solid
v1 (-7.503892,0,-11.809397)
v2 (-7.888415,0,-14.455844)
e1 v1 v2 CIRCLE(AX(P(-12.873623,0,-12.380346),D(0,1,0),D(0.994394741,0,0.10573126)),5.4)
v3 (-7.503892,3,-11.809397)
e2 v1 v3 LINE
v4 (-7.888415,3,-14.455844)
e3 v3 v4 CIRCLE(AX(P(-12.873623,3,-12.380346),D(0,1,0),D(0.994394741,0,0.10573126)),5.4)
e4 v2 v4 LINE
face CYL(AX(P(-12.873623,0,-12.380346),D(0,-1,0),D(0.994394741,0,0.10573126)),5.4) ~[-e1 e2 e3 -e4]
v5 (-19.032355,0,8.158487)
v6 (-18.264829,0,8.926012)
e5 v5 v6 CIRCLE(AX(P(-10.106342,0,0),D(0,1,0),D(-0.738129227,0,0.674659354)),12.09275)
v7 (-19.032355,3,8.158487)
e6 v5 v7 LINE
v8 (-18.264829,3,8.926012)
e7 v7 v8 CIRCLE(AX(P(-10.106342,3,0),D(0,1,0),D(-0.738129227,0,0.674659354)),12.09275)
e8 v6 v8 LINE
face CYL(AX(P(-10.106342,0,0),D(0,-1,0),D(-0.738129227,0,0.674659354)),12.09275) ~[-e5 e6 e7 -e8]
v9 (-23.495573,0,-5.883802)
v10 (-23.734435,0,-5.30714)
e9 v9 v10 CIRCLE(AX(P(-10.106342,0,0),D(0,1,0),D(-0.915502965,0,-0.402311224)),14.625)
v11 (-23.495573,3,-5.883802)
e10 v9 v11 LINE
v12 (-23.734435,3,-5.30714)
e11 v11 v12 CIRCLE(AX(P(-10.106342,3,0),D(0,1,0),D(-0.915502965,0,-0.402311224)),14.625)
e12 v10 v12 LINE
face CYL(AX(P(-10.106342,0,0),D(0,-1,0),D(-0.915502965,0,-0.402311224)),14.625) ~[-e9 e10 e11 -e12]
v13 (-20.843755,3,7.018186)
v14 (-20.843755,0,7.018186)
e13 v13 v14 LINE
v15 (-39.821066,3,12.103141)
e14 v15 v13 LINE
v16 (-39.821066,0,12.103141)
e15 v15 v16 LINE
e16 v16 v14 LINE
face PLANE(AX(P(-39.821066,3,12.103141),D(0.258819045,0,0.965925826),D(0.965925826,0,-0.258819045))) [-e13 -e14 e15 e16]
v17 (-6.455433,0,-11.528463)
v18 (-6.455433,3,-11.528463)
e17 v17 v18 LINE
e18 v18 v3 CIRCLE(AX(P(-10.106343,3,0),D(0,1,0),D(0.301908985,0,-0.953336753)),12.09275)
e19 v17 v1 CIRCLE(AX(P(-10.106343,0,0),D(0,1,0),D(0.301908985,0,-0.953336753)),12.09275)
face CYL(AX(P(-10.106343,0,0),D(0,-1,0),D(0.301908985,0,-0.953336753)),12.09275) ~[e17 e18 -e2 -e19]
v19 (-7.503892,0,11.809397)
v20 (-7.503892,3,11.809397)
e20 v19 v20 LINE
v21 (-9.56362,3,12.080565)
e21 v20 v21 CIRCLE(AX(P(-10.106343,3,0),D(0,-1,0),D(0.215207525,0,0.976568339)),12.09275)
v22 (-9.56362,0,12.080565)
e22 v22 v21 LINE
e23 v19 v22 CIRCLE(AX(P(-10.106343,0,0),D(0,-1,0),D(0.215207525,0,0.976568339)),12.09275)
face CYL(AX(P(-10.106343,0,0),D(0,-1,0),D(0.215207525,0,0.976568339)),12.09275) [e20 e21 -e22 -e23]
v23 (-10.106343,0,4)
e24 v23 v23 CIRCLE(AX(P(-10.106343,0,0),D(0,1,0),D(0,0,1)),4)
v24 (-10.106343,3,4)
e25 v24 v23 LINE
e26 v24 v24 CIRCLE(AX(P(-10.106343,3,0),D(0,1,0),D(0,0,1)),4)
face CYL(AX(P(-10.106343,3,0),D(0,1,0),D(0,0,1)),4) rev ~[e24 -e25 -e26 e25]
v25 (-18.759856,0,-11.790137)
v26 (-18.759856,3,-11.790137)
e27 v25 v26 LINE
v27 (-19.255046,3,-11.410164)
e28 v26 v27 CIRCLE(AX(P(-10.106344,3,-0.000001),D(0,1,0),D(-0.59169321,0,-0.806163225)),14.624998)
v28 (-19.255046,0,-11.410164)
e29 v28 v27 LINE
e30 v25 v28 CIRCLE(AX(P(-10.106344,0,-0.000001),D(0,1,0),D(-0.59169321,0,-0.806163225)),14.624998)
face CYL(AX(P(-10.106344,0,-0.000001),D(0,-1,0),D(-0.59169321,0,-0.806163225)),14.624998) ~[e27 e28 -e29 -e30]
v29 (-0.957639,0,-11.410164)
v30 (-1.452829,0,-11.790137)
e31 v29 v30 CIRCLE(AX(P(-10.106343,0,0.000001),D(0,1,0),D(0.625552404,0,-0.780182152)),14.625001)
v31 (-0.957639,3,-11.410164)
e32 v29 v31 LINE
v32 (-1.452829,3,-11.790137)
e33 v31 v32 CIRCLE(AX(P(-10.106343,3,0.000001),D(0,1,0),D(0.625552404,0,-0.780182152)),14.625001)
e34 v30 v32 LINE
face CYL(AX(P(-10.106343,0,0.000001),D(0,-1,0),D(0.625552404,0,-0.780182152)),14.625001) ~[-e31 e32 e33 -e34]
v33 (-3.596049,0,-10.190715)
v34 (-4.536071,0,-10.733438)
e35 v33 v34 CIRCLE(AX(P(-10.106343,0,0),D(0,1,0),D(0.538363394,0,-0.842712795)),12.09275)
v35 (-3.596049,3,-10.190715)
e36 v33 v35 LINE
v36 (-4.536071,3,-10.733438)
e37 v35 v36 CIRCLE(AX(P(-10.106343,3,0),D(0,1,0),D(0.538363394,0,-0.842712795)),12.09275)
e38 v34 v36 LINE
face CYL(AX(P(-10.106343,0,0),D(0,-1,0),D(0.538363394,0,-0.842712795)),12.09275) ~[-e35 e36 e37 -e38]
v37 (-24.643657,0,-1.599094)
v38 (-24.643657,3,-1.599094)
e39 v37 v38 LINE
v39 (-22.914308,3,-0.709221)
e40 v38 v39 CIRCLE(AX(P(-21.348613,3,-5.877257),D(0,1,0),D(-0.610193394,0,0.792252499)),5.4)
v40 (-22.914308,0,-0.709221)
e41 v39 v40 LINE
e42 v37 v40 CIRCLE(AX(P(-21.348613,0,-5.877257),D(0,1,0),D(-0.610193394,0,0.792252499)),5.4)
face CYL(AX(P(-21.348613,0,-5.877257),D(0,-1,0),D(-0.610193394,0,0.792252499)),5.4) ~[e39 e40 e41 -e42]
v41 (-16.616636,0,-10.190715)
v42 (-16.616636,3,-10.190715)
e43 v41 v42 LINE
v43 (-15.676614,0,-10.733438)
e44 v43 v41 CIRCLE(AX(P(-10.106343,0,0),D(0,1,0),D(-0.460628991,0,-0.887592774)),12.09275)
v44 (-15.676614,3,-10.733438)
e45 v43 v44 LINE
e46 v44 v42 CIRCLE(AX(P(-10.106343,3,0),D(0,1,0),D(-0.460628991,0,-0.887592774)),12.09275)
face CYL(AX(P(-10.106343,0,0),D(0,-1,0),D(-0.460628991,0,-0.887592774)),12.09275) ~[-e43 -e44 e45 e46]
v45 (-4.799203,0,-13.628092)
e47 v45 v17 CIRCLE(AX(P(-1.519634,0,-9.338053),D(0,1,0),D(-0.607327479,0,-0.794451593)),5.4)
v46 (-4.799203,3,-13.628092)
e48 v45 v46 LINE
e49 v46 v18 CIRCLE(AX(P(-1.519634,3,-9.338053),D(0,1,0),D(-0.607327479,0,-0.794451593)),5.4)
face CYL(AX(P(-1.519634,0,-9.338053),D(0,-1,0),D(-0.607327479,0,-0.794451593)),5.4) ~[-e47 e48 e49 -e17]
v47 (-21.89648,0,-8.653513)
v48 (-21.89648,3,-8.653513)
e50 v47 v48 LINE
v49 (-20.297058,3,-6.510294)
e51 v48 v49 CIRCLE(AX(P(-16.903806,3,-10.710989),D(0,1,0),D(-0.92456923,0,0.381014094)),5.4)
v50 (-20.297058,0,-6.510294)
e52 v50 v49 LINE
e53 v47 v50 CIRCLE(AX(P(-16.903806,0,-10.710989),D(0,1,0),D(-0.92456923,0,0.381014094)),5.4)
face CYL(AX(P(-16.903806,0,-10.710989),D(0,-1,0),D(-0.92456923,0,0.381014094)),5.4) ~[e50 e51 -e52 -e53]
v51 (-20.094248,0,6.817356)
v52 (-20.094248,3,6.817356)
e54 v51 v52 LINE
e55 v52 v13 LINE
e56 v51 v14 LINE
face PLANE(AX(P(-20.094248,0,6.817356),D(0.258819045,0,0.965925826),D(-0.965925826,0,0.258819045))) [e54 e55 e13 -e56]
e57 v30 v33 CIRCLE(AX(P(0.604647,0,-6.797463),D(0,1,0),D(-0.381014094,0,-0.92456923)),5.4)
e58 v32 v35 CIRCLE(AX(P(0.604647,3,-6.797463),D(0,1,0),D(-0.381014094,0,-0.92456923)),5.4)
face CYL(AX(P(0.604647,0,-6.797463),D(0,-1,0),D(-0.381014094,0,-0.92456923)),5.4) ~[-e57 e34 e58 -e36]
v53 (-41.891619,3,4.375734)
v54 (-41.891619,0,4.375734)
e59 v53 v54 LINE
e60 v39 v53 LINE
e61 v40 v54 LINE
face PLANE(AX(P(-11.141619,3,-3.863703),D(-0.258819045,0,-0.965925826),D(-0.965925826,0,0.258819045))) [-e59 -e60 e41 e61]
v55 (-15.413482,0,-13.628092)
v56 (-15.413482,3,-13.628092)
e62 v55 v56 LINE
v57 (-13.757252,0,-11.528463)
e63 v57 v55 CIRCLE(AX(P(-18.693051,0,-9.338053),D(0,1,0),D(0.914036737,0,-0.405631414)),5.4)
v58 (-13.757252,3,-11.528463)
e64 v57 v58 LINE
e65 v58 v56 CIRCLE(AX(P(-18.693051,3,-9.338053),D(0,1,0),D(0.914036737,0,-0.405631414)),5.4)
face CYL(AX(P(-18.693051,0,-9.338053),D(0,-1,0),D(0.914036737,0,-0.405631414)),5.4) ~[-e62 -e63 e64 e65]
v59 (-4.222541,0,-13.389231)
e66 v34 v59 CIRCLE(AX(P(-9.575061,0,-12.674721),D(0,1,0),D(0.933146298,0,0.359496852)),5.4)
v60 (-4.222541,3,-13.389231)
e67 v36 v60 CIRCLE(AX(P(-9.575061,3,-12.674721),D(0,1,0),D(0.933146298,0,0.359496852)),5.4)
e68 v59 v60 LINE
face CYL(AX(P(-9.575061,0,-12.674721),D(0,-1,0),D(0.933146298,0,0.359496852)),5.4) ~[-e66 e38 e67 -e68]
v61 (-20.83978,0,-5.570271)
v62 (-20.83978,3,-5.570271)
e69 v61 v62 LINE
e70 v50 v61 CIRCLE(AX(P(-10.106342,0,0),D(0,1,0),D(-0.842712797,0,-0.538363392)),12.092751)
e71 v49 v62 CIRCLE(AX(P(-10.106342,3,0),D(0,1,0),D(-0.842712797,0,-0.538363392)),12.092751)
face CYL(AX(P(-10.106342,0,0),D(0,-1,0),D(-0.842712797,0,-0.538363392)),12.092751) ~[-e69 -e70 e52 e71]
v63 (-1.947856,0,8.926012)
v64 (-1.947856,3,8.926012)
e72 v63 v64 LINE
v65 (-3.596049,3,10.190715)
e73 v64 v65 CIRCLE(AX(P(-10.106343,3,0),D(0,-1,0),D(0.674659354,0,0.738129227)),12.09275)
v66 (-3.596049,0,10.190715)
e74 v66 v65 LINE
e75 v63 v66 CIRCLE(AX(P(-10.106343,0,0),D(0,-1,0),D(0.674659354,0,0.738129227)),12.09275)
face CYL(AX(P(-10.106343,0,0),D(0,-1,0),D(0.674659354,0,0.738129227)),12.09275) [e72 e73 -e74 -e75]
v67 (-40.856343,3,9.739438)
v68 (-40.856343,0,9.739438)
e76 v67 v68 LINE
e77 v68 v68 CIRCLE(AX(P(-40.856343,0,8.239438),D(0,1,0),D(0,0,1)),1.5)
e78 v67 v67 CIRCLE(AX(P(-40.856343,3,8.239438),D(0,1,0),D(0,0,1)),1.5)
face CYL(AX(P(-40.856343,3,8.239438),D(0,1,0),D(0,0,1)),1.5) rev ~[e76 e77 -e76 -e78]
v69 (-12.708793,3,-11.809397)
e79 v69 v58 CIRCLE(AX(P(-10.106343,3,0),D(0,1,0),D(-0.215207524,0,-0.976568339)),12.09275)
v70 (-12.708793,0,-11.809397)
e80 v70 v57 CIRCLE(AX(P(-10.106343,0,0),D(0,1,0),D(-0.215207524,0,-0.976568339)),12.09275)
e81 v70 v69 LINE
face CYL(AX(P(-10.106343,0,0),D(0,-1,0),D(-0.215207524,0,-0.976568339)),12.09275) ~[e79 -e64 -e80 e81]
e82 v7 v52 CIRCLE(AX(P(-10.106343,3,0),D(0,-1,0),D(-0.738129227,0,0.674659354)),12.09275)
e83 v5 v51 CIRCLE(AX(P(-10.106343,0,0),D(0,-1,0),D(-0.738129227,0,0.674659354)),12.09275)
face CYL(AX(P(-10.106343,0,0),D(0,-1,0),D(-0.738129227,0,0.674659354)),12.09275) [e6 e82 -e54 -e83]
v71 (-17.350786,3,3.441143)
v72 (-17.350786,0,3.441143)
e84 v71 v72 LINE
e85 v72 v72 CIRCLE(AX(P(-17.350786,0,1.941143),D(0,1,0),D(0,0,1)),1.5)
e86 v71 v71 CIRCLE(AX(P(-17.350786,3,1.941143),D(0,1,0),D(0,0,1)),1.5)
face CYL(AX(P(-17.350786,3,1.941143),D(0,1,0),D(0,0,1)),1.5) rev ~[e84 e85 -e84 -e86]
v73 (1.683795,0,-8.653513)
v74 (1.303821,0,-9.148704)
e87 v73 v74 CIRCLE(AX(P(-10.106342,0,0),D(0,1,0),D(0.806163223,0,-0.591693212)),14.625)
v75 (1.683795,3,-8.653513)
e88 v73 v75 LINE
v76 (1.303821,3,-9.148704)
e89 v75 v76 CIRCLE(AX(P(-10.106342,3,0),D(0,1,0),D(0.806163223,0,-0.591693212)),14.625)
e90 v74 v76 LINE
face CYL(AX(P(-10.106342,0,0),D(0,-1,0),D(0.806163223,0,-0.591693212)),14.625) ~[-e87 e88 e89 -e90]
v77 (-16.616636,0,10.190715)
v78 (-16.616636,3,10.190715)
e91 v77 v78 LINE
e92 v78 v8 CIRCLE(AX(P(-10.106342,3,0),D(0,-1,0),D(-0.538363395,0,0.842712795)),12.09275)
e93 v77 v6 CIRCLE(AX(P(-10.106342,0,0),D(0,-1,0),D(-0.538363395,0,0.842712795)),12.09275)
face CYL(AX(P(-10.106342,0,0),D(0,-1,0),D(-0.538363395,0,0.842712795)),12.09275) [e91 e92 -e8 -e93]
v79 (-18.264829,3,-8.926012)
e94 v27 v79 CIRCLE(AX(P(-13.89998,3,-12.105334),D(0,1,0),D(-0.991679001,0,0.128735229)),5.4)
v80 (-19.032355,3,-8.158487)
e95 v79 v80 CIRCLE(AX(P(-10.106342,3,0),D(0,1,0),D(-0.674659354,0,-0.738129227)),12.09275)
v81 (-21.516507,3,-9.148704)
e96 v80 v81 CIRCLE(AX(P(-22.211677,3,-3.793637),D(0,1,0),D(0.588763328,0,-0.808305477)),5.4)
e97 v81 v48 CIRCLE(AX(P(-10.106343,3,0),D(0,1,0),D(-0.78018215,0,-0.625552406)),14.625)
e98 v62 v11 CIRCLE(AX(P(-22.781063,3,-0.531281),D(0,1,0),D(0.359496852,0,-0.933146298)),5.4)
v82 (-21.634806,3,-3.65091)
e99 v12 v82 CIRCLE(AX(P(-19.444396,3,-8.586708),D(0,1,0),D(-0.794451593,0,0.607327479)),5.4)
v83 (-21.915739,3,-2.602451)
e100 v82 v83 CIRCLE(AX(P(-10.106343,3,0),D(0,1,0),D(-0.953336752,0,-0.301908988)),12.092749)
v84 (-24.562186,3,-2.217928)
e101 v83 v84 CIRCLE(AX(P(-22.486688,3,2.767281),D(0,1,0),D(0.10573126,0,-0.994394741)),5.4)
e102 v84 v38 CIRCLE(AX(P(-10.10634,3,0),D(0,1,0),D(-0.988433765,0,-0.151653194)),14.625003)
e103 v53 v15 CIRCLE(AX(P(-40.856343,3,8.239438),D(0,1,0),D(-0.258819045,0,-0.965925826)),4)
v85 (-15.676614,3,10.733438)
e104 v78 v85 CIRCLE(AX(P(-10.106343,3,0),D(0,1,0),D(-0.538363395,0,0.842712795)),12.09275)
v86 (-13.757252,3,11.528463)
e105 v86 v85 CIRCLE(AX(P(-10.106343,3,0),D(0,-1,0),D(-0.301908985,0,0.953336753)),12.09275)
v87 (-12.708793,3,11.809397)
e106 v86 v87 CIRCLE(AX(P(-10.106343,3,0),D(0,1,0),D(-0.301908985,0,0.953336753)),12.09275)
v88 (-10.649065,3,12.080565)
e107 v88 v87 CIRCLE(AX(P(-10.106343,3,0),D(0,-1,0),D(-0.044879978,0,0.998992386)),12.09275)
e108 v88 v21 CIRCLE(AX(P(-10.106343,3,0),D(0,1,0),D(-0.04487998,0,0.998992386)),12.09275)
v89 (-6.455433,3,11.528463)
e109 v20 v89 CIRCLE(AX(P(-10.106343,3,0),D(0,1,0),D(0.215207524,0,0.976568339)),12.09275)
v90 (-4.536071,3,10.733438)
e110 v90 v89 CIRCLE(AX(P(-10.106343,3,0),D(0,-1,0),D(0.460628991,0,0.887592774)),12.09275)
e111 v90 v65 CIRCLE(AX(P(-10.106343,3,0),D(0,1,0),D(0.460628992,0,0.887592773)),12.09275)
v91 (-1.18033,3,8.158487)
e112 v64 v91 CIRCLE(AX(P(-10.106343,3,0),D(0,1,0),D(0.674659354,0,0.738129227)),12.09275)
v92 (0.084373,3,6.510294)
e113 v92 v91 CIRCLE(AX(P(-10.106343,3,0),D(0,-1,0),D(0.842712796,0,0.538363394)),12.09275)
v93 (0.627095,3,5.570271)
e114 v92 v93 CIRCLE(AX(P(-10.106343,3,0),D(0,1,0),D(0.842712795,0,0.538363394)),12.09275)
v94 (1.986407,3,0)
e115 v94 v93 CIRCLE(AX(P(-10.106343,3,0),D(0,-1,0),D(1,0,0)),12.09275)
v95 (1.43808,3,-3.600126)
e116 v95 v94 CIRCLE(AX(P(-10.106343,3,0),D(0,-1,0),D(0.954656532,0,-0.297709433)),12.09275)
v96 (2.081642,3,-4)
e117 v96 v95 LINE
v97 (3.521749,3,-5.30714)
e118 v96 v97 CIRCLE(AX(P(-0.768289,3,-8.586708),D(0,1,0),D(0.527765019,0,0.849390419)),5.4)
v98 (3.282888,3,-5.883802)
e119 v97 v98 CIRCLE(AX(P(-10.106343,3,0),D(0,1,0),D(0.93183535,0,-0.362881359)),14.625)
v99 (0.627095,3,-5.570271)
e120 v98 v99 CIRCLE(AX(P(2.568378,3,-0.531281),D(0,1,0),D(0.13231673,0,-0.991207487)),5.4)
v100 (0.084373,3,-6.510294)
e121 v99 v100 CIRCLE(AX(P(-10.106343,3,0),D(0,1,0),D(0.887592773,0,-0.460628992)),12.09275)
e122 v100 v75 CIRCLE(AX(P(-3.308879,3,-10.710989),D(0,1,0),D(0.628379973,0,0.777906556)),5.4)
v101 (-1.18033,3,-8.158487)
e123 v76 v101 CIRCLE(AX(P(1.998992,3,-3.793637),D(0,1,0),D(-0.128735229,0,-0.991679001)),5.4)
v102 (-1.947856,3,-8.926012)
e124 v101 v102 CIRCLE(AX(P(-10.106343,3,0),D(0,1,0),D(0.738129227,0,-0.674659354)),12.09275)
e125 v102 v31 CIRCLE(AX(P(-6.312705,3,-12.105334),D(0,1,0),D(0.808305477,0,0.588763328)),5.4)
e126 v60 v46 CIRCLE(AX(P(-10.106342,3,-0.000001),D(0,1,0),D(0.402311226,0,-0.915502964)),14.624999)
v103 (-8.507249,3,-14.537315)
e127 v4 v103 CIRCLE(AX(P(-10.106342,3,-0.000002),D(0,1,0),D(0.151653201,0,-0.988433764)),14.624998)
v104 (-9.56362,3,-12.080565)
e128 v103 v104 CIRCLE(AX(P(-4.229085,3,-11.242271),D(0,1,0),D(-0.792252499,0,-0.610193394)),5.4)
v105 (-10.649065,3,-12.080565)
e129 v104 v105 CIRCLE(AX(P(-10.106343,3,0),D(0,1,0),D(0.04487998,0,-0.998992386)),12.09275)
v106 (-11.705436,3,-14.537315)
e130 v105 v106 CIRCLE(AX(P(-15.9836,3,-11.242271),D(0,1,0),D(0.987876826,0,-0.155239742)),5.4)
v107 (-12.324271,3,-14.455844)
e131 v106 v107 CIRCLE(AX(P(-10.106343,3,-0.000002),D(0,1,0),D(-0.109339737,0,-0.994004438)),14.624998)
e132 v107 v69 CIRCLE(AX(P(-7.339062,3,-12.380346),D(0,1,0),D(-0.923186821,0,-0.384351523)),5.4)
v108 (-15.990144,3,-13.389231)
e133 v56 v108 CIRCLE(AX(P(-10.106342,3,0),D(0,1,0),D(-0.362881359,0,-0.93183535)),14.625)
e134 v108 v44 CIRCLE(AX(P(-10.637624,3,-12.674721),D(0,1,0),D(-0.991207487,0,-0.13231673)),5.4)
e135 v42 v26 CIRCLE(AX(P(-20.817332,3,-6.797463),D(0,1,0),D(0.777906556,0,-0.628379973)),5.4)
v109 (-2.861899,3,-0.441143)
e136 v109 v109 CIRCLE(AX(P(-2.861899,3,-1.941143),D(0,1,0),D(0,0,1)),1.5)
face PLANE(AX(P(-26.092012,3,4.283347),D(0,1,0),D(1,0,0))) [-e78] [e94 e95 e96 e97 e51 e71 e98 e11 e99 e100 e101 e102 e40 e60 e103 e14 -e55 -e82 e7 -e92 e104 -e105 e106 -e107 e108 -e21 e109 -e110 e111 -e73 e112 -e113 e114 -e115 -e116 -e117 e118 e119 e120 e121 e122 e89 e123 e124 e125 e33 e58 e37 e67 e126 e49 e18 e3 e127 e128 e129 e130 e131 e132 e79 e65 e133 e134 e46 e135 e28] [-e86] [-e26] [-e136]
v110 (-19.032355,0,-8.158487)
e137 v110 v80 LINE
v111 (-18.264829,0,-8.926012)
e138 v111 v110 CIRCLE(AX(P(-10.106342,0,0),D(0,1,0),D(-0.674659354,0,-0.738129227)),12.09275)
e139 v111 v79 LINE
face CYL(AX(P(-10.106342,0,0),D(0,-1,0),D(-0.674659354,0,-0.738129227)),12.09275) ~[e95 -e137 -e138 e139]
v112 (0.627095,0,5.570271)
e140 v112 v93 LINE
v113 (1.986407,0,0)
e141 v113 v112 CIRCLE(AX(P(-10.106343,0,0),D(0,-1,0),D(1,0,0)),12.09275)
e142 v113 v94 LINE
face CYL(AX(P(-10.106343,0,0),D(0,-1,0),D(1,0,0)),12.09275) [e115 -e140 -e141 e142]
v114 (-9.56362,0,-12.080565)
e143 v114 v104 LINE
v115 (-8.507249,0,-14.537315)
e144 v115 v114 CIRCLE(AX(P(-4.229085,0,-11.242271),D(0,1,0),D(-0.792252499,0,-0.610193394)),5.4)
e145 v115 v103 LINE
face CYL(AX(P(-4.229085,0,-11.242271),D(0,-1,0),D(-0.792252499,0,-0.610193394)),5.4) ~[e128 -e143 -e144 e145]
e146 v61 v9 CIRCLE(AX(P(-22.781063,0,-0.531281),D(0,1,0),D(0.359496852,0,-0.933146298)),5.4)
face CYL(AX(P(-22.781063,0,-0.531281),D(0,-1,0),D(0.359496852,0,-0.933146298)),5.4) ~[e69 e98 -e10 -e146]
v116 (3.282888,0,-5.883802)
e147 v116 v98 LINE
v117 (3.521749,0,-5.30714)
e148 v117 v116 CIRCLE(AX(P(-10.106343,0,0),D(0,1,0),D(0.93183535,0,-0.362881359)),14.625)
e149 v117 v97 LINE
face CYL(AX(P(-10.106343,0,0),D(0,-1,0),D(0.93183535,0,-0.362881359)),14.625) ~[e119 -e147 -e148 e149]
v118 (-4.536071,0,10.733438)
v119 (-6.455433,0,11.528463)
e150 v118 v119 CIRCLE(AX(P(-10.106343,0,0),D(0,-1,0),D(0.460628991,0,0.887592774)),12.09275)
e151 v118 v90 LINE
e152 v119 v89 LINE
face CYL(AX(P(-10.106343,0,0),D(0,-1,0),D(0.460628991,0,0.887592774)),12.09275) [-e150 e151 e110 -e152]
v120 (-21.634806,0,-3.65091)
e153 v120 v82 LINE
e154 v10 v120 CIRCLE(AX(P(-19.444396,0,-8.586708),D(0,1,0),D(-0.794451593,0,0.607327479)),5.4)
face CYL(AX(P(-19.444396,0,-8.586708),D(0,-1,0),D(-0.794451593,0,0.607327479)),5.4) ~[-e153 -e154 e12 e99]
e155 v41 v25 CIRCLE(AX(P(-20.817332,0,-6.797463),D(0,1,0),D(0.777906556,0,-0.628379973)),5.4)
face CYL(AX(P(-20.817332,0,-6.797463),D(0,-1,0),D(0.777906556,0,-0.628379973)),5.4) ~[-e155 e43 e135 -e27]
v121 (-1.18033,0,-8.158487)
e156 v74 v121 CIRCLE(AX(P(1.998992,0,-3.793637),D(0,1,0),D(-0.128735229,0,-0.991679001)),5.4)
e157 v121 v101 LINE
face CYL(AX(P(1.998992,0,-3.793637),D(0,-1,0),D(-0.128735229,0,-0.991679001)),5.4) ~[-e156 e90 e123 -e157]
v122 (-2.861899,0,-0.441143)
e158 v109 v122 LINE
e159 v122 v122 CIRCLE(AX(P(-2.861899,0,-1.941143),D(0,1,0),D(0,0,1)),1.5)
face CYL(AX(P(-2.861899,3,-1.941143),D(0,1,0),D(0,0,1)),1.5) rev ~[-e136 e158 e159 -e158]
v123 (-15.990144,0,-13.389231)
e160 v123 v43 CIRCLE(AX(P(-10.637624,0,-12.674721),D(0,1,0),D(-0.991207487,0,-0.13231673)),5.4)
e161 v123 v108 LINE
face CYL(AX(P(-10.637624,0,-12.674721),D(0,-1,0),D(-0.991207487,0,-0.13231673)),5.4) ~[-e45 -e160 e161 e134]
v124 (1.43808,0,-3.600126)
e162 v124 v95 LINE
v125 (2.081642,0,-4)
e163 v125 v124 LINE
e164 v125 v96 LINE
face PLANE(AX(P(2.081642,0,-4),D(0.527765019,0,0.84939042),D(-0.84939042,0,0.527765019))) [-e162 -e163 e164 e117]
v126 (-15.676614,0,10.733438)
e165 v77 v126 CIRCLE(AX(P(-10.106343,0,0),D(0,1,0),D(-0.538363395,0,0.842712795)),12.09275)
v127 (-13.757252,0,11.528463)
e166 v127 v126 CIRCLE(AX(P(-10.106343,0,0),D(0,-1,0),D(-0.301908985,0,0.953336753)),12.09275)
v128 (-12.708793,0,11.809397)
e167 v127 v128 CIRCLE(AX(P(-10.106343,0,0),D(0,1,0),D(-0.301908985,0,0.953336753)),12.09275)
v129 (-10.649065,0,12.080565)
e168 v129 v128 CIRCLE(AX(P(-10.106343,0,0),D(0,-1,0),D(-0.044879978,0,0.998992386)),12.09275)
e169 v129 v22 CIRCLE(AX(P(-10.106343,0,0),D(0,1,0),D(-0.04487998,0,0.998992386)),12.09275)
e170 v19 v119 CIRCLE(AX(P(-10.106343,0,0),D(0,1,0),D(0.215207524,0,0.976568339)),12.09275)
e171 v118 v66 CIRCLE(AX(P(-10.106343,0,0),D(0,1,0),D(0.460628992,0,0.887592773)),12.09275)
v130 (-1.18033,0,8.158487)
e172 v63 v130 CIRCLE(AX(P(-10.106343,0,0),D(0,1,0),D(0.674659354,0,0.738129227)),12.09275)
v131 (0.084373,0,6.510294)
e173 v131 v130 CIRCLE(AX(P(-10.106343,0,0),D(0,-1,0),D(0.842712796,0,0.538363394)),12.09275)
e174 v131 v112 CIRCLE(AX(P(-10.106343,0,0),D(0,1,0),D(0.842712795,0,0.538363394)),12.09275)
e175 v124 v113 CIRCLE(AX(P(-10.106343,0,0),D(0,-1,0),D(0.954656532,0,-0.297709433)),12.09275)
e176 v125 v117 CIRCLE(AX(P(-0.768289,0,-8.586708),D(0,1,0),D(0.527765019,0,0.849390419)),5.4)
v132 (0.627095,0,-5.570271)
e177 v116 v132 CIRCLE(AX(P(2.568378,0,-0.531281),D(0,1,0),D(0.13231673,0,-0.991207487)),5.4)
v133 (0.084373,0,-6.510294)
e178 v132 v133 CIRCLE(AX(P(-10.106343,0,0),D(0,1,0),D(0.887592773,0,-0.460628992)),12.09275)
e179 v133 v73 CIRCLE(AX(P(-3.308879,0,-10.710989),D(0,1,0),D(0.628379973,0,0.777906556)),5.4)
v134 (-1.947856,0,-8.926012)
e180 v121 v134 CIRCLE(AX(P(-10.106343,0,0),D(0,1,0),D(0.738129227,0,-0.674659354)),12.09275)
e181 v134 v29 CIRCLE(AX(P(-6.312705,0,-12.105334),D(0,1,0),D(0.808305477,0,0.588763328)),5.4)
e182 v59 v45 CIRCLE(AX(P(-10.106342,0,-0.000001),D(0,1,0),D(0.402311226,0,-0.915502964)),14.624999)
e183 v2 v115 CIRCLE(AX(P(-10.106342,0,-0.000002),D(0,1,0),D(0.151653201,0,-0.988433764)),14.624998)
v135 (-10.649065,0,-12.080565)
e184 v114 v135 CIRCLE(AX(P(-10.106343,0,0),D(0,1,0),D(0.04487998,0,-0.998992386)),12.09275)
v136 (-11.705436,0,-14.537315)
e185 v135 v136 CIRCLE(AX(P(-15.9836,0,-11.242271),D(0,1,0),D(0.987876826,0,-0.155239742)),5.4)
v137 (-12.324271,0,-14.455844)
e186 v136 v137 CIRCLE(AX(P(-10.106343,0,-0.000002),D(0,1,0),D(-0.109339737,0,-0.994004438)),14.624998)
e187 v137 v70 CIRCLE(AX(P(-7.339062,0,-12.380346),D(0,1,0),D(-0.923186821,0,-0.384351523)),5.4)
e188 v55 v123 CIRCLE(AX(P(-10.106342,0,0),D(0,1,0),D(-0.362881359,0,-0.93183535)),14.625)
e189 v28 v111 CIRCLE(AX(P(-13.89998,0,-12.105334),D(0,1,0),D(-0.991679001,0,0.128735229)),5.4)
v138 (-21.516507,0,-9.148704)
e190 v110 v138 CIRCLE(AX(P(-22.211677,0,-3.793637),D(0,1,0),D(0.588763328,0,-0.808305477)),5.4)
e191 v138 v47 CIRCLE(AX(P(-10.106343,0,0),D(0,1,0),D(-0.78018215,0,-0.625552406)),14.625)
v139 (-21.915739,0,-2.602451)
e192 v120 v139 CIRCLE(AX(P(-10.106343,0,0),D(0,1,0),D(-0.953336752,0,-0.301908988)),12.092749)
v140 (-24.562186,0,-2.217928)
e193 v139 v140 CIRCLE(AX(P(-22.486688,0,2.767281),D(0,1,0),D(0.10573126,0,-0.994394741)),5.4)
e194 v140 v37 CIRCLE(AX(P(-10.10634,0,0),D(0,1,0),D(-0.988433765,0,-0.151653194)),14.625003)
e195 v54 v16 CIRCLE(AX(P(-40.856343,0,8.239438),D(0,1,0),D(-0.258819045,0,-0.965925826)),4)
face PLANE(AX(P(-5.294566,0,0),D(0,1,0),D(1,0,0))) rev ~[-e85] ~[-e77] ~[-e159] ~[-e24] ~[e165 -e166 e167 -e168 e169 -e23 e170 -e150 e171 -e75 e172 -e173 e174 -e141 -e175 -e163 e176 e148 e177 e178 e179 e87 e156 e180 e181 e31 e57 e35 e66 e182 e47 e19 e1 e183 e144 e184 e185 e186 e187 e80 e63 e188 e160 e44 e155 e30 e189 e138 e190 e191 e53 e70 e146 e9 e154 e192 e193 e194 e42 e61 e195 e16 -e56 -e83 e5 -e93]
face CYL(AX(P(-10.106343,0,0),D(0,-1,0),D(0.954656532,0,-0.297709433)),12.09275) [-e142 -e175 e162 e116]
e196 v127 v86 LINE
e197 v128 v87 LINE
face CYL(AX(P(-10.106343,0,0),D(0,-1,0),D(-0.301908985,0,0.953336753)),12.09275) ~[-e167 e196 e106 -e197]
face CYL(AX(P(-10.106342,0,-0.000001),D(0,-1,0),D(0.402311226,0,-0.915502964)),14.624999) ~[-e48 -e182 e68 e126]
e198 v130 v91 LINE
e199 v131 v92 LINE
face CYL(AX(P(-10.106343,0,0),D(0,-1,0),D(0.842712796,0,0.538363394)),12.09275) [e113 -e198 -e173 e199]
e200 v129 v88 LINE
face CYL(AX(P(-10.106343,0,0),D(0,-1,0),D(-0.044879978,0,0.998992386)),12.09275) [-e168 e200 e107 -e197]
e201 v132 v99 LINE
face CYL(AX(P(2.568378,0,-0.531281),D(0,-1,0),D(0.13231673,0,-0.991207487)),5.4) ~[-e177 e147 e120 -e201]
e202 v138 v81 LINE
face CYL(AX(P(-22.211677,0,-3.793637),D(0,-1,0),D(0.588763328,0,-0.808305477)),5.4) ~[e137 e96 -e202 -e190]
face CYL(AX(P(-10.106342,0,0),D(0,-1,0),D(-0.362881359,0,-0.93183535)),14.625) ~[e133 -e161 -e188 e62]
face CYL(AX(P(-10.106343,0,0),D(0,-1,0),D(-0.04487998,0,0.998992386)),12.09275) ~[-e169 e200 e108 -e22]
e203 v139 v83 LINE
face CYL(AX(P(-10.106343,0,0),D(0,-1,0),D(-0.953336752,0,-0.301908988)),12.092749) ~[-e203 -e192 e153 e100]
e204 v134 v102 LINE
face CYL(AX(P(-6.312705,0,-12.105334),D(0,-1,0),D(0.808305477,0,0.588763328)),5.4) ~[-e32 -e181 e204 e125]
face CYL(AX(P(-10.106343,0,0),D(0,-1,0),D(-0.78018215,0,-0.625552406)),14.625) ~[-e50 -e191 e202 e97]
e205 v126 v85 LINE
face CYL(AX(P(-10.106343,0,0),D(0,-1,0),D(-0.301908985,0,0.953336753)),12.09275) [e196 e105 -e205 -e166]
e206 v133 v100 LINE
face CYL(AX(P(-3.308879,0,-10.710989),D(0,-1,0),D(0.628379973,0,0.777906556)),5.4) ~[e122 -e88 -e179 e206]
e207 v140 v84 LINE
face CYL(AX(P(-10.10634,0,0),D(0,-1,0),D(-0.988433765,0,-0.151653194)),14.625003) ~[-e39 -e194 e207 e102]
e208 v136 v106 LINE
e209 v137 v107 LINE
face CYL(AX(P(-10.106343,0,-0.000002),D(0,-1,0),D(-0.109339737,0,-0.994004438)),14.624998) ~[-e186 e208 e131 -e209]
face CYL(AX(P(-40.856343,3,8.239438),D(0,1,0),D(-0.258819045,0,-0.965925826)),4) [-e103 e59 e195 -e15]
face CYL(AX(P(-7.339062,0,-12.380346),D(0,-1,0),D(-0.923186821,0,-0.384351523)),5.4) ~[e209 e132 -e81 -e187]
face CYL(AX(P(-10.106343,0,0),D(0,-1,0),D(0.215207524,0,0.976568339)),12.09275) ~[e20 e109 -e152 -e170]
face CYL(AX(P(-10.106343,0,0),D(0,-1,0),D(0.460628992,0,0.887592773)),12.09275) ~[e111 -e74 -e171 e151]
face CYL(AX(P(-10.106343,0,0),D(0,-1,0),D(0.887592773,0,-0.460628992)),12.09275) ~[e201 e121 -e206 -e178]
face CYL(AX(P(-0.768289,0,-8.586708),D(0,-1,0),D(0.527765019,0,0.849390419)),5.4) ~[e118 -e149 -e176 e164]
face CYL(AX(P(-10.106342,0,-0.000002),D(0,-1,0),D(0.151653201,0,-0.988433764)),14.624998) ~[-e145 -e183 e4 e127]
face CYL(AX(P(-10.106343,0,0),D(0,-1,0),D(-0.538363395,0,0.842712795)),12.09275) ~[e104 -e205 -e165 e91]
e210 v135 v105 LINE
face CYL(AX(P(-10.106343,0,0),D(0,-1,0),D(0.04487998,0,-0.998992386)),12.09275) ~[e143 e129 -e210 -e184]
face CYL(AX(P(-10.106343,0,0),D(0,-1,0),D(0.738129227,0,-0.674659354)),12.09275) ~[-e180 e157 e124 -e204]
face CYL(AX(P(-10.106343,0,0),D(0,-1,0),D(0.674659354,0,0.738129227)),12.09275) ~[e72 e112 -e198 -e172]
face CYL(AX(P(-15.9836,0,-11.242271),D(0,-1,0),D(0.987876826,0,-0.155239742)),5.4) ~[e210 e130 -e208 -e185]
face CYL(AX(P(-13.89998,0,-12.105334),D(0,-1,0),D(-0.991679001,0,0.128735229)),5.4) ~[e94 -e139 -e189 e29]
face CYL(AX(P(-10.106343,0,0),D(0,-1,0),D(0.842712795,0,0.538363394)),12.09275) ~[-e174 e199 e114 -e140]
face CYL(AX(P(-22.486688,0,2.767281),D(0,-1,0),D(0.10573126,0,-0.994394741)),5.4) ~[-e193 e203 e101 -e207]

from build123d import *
from build123d.topology import SkipClean

# Parameters (mm, degrees)
SKETCH1_R           = 1.5
BOSS_EXTRUDE1_DEPTH = 3
SKETCH3_R           = 1.5
BOSS_EXTRUDE2_DEPTH = 3
CUT_EXTRUDE1_START  = -3
CUT_EXTRUDE1_DEPTH  = 3
CUT_EXTRUDE2_REACH  = 49.249
SKETCH5_R           = 1.5
SKETCH5_R_2         = 4


with BuildPart() as part:
    # Sketch1 → Boss-Extrude1 (new body)
    with BuildSketch(Plane(origin=(0, 0, 0), x_dir=(1, 0, 0), z_dir=(0, 1, 0))):
        with BuildLine():
            Line((20.643657446, 4), (2.081641936, 4))
            ThreePointArc((2.081641936, 4), (2.861028333, 4.588201733), (3.521749436, 5.30713988))
            ThreePointArc((3.521749436, 5.30713988), (3.405395609, 5.596745198), (3.282888305, 5.883801663))
            ThreePointArc((3.282888305, 5.883801663), (1.93527598, 5.894040025), (0.627094961, 5.57027124))
            ThreePointArc((0.627094961, 5.57027124), (0.366286148, 6.046375), (0.084372603, 6.510293938))
            ThreePointArc((0.084372603, 6.510293938), (1.018855105, 7.48132754), (1.683794586, 8.65351323))
            ThreePointArc((1.683794586, 8.65351323), (1.496450048, 8.903135899), (1.303821399, 9.148703928))
            ThreePointArc((1.303821399, 9.148703928), (-0.000522033, 8.809805691), (-1.180330337, 8.158486898))
            ThreePointArc((-1.180330337, 8.158486898), (-1.555477026, 8.550865528), (-1.947855656, 8.926012217))
            ThreePointArc((-1.947855656, 8.926012217), (-1.296536862, 10.105820521), (-0.957638625, 11.410163953))
            ThreePointArc((-0.957638625, 11.410163953), (-1.203206655, 11.602792602), (-1.452829324, 11.79013714))
            ThreePointArc((-1.452829324, 11.79013714), (-2.625015014, 11.125197659), (-3.596048616, 10.190715157))
            ThreePointArc((-3.596048616, 10.190715157), (-4.059967554, 10.472628702), (-4.536071314, 10.733437515))
            ThreePointArc((-4.536071314, 10.733437515), (-4.212302529, 12.041618533), (-4.222540891, 13.389230859))
            ThreePointArc((-4.222540891, 13.389230859), (-4.509597355, 13.511738163), (-4.799202674, 13.62809199))
            ThreePointArc((-4.799202674, 13.62809199), (-5.759348103, 12.682425791), (-6.455432668, 11.528463019))
            ThreePointArc((-6.455432668, 11.528463019), (-6.976508546, 11.680699536), (-7.503891752, 11.809396783))
            ThreePointArc((-7.503891752, 11.809396783), (-7.529737283, 13.156800143), (-7.888414517, 14.455843809))
            ThreePointArc((-7.888414517, 14.455843809), (-8.197396993, 14.499881098), (-8.507248835, 14.537314892))
            ThreePointArc((-8.507248835, 14.537314892), (-9.18992168, 13.375367565), (-9.563620196, 12.080565177))
            ThreePointArc((-9.563620196, 12.080565177), (-10.106342554, 12.09275), (-10.649064912, 12.080565177))
            ThreePointArc((-10.649064912, 12.080565177), (-11.022763428, 13.375367565), (-11.705436272, 14.537314892))
            ThreePointArc((-11.705436272, 14.537314892), (-12.015288115, 14.499881098), (-12.324270591, 14.455843809))
            ThreePointArc((-12.324270591, 14.455843809), (-12.682947825, 13.156800143), (-12.708793355, 11.809396783))
            ThreePointArc((-12.708793355, 11.809396783), (-13.236176561, 11.680699536), (-13.757252439, 11.528463019))
            ThreePointArc((-13.757252439, 11.528463019), (-14.453337005, 12.682425791), (-15.413482434, 13.62809199))
            ThreePointArc((-15.413482434, 13.62809199), (-15.703087752, 13.511738163), (-15.990144217, 13.389230859))
            ThreePointArc((-15.990144217, 13.389230859), (-16.000382579, 12.041618533), (-15.676613793, 10.733437515))
            ThreePointArc((-15.676613793, 10.733437515), (-16.152717554, 10.472628702), (-16.616636492, 10.190715157))
            ThreePointArc((-16.616636492, 10.190715157), (-17.587670094, 11.125197659), (-18.759855783, 11.79013714))
            ThreePointArc((-18.759855783, 11.79013714), (-19.009478453, 11.602792602), (-19.255046482, 11.410163953))
            ThreePointArc((-19.255046482, 11.410163953), (-18.916148245, 10.105820521), (-18.264829452, 8.926012217))
            ThreePointArc((-18.264829452, 8.926012217), (-18.657208082, 8.550865528), (-19.032354771, 8.158486898))
            ThreePointArc((-19.032354771, 8.158486898), (-20.212163074, 8.809805691), (-21.516506507, 9.148703928))
            ThreePointArc((-21.516506507, 9.148703928), (-21.709135156, 8.903135899), (-21.896479694, 8.65351323))
            ThreePointArc((-21.896479694, 8.65351323), (-21.231540213, 7.48132754), (-20.297057711, 6.510293938))
            ThreePointArc((-20.297057711, 6.510293938), (-20.578971255, 6.046375), (-20.839780068, 5.57027124))
            ThreePointArc((-20.839780068, 5.57027124), (-22.147961087, 5.894040025), (-23.495573413, 5.883801663))
            ThreePointArc((-23.495573413, 5.883801663), (-23.618080717, 5.596745198), (-23.734434544, 5.30713988))
            ThreePointArc((-23.734434544, 5.30713988), (-22.788768345, 4.346994451), (-21.634805572, 3.650909885))
            ThreePointArc((-21.634805572, 3.650909885), (-21.78704209, 3.129834008), (-21.915739337, 2.602450802))
            ThreePointArc((-21.915739337, 2.602450802), (-23.263142697, 2.576605271), (-24.562186363, 2.217928037))
            ThreePointArc((-24.562186363, 2.217928037), (-24.606223651, 1.908945561), (-24.643657446, 1.599093719))
            ThreePointArc((-24.643657446, 1.599093719), (-23.481710119, 0.916420874), (-22.186907731, 0.542722358))
            ThreePointArc((-22.186907731, 0.542722358), (-22.199092554, 0), (-22.186907731, -0.542722358))
            ThreePointArc((-22.186907731, -0.542722358), (-23.481710119, -0.916420874), (-24.643657446, -1.599093719))
            ThreePointArc((-24.643657446, -1.599093719), (-24.606223651, -1.908945561), (-24.562186363, -2.217928037))
            ThreePointArc((-24.562186363, -2.217928037), (-23.263142697, -2.576605271), (-21.915739337, -2.602450802))
            ThreePointArc((-21.915739337, -2.602450802), (-21.78704209, -3.129834008), (-21.634805572, -3.650909885))
            ThreePointArc((-21.634805572, -3.650909885), (-22.788768345, -4.346994451), (-23.734434544, -5.30713988))
            ThreePointArc((-23.734434544, -5.30713988), (-23.618080717, -5.596745198), (-23.495573413, -5.883801663))
            ThreePointArc((-23.495573413, -5.883801663), (-22.147961087, -5.894040025), (-20.839780068, -5.57027124))
            ThreePointArc((-20.839780068, -5.57027124), (-20.578971255, -6.046375), (-20.297057711, -6.510293938))
            ThreePointArc((-20.297057711, -6.510293938), (-21.231540213, -7.48132754), (-21.896479694, -8.65351323))
            ThreePointArc((-21.896479694, -8.65351323), (-21.709135156, -8.903135899), (-21.516506507, -9.148703928))
            ThreePointArc((-21.516506507, -9.148703928), (-20.212163074, -8.809805691), (-19.032354771, -8.158486898))
            ThreePointArc((-19.032354771, -8.158486898), (-18.657208082, -8.550865528), (-18.264829452, -8.926012217))
            ThreePointArc((-18.264829452, -8.926012217), (-18.916148245, -10.105820521), (-19.255046482, -11.410163953))
            ThreePointArc((-19.255046482, -11.410163953), (-19.009478453, -11.602792602), (-18.759855783, -11.79013714))
            ThreePointArc((-18.759855783, -11.79013714), (-17.587670094, -11.125197659), (-16.616636492, -10.190715157))
            ThreePointArc((-16.616636492, -10.190715157), (-16.152717554, -10.472628702), (-15.676613793, -10.733437515))
            ThreePointArc((-15.676613793, -10.733437515), (-16.000382579, -12.041618533), (-15.990144217, -13.389230859))
            ThreePointArc((-15.990144217, -13.389230859), (-15.703087752, -13.511738163), (-15.413482434, -13.62809199))
            ThreePointArc((-15.413482434, -13.62809199), (-14.453337005, -12.682425791), (-13.757252439, -11.528463019))
            ThreePointArc((-13.757252439, -11.528463019), (-13.236176561, -11.680699536), (-12.708793355, -11.809396783))
            ThreePointArc((-12.708793355, -11.809396783), (-12.682947825, -13.156800143), (-12.324270591, -14.455843809))
            ThreePointArc((-12.324270591, -14.455843809), (-12.015288115, -14.499881098), (-11.705436272, -14.537314892))
            ThreePointArc((-11.705436272, -14.537314892), (-11.022763428, -13.375367565), (-10.649064912, -12.080565177))
            ThreePointArc((-10.649064912, -12.080565177), (-10.106342554, -12.09275), (-9.563620196, -12.080565177))
            ThreePointArc((-9.563620196, -12.080565177), (-9.18992168, -13.375367565), (-8.507248835, -14.537314892))
            ThreePointArc((-8.507248835, -14.537314892), (-8.197396993, -14.499881098), (-7.888414517, -14.455843809))
            ThreePointArc((-7.888414517, -14.455843809), (-7.529737283, -13.156800143), (-7.503891752, -11.809396783))
            ThreePointArc((-7.503891752, -11.809396783), (-6.976508546, -11.680699536), (-6.455432668, -11.528463019))
            ThreePointArc((-6.455432668, -11.528463019), (-5.759348103, -12.682425791), (-4.799202674, -13.62809199))
            ThreePointArc((-4.799202674, -13.62809199), (-4.509597355, -13.511738163), (-4.222540891, -13.389230859))
            ThreePointArc((-4.222540891, -13.389230859), (-4.212302529, -12.041618533), (-4.536071314, -10.733437515))
            ThreePointArc((-4.536071314, -10.733437515), (-4.059967554, -10.472628702), (-3.596048616, -10.190715157))
            ThreePointArc((-3.596048616, -10.190715157), (-2.625015014, -11.125197659), (-1.452829324, -11.79013714))
            ThreePointArc((-1.452829324, -11.79013714), (-1.203206655, -11.602792602), (-0.957638625, -11.410163953))
            ThreePointArc((-0.957638625, -11.410163953), (-1.296536862, -10.105820521), (-1.947855656, -8.926012217))
            ThreePointArc((-1.947855656, -8.926012217), (-1.555477026, -8.550865528), (-1.180330337, -8.158486898))
            ThreePointArc((-1.180330337, -8.158486898), (-0.000522033, -8.809805691), (1.303821399, -9.148703928))
            ThreePointArc((1.303821399, -9.148703928), (1.496450048, -8.903135899), (1.683794586, -8.65351323))
            ThreePointArc((1.683794586, -8.65351323), (1.018855105, -7.48132754), (0.084372603, -6.510293938))
            ThreePointArc((0.084372603, -6.510293938), (0.366286148, -6.046375), (0.627094961, -5.57027124))
            ThreePointArc((0.627094961, -5.57027124), (1.93527598, -5.894040025), (3.282888305, -5.883801663))
            ThreePointArc((3.282888305, -5.883801663), (3.405395609, -5.596745198), (3.521749436, -5.30713988))
            ThreePointArc((3.521749436, -5.30713988), (2.861028333, -4.588201733), (2.081641936, -4))
            Line((2.081641936, -4), (20.643657446, -4))
            ThreePointArc((20.643657446, -4), (24.643657446, 0), (20.643657446, 4))
        make_face()
        with Locations(Location((-10.106342554, 0, 0), (0, 0, 270))):
            Circle(SKETCH1_R, mode=Mode.SUBTRACT)
        with Locations(Location((20.643657446, 0, 0), (0, 0, 270))):
            Circle(SKETCH1_R, mode=Mode.SUBTRACT)
    extrude(amount=BOSS_EXTRUDE1_DEPTH)

    # Sketch3 → Boss-Extrude2 (add)
    with BuildSketch(Plane(origin=(0, 3, 0), x_dir=(1, 0, 0), z_dir=(0, 1, 0))):
        with BuildLine():
            ThreePointArc((-9.071066373, -3.863703305), (-13.970045859, -1.03527618), (-11.141618734, 3.863703305))
            Line((-11.141618734, 3.863703305), (-41.891618734, -4.375734362))
            ThreePointArc((-41.891618734, -4.375734362), (-44.720045859, -9.274713848), (-39.821066373, -12.103140972))
            Line((-39.821066373, -12.103140972), (-9.071066373, -3.863703305))
        make_face()
        with Locations(Location((-40.856342554, -8.239437667, 0), (0, 0, 270))):
            Circle(SKETCH3_R, mode=Mode.SUBTRACT)
    extrude(amount=-BOSS_EXTRUDE2_DEPTH)

    # Sketch4 → Cut-Extrude1 (cut)
    with SkipClean():  # the faces are left unmerged after this step: merging them gives an invalid solid
        with BuildSketch(Plane(origin=(0, 3, 0), x_dir=(1, 0, 0), z_dir=(0, 1, 0)).offset(CUT_EXTRUDE1_START)):
            with BuildLine():
                ThreePointArc((-21.516506507, -9.148703928), (-20.212163074, -8.809805691), (-19.032354771, -8.158486898))
                ThreePointArc((-19.032354771, -8.158486898), (-19.58704562, -7.506721784), (-20.094248238, -6.817355984))
                Line((-20.094248238, -6.817355984), (-20.843755363, -7.018185813))
                ThreePointArc((-20.843755363, -7.018185813), (-21.444347002, -7.788065101), (-21.896479694, -8.65351323))
                ThreePointArc((-21.896479694, -8.65351323), (-21.709135156, -8.903135899), (-21.516506507, -9.148703928))
            make_face()
            with BuildLine():
                ThreePointArc((-18.759855783, -11.79013714), (-17.587670094, -11.125197659), (-16.616636492, -10.190715157))
                ThreePointArc((-16.616636492, -10.190715157), (-17.467942324, -9.593823606), (-18.264829452, -8.926012217))
                ThreePointArc((-18.264829452, -8.926012217), (-18.916148245, -10.105820521), (-19.255046482, -11.410163953))
                ThreePointArc((-19.255046482, -11.410163953), (-19.009478453, -11.602792602), (-18.759855783, -11.79013714))
            make_face()
            with BuildLine():
                ThreePointArc((-15.413482434, -13.62809199), (-14.453337005, -12.682425791), (-13.757252439, -11.528463019))
                ThreePointArc((-13.757252439, -11.528463019), (-14.734037631, -11.172244217), (-15.676613793, -10.733437515))
                ThreePointArc((-15.676613793, -10.733437515), (-16.000382579, -12.041618533), (-15.990144217, -13.389230859))
                ThreePointArc((-15.990144217, -13.389230859), (-15.703087752, -13.511738163), (-15.413482434, -13.62809199))
            make_face()
            with BuildLine():
                ThreePointArc((-11.705436272, -14.537314892), (-11.022763428, -13.375367565), (-10.649064912, -12.080565177))
                ThreePointArc((-10.649064912, -12.080565177), (-11.684763165, -11.989294847), (-12.708793355, -11.809396783))
                ThreePointArc((-12.708793355, -11.809396783), (-12.682947825, -13.156800143), (-12.324270591, -14.455843809))
                ThreePointArc((-12.324270591, -14.455843809), (-12.015288115, -14.499881098), (-11.705436272, -14.537314892))
            make_face()
            with BuildLine():
                ThreePointArc((-7.888414517, -14.455843809), (-7.529737283, -13.156800143), (-7.503891752, -11.809396783))
                ThreePointArc((-7.503891752, -11.809396783), (-8.527921943, -11.989294847), (-9.563620196, -12.080565177))
                ThreePointArc((-9.563620196, -12.080565177), (-9.18992168, -13.375367565), (-8.507248835, -14.537314892))
                ThreePointArc((-8.507248835, -14.537314892), (-8.197396993, -14.499881098), (-7.888414517, -14.455843809))
            make_face()
            with BuildLine():
                ThreePointArc((-4.222540891, -13.389230859), (-4.212302529, -12.041618533), (-4.536071314, -10.733437515))
                ThreePointArc((-4.536071314, -10.733437515), (-5.478647477, -11.172244217), (-6.455432668, -11.528463019))
                ThreePointArc((-6.455432668, -11.528463019), (-5.759348103, -12.682425791), (-4.799202674, -13.62809199))
                ThreePointArc((-4.799202674, -13.62809199), (-4.509597355, -13.511738163), (-4.222540891, -13.389230859))
            make_face()
            with BuildLine():
                ThreePointArc((-0.957638625, -11.410163953), (-1.296536862, -10.105820521), (-1.947855656, -8.926012217))
                ThreePointArc((-1.947855656, -8.926012217), (-2.744742783, -9.593823606), (-3.596048616, -10.190715157))
                ThreePointArc((-3.596048616, -10.190715157), (-2.625015014, -11.125197659), (-1.452829324, -11.79013714))
                ThreePointArc((-1.452829324, -11.79013714), (-1.203206655, -11.602792602), (-0.957638625, -11.410163953))
            make_face()
            with BuildLine():
                ThreePointArc((1.683794586, -8.65351323), (1.018855105, -7.48132754), (0.084372603, -6.510293938))
                ThreePointArc((0.084372603, -6.510293938), (-0.512518948, -7.361599771), (-1.180330337, -8.158486898))
                ThreePointArc((-1.180330337, -8.158486898), (-0.000522033, -8.809805691), (1.303821399, -9.148703928))
                ThreePointArc((1.303821399, -9.148703928), (1.496450048, -8.903135899), (1.683794586, -8.65351323))
            make_face()
            with BuildLine():
                ThreePointArc((20.643657446, -4), (24.643657446, 0), (20.643657446, 4))
                Line((20.643657446, 4), (2.081641936, 4))
                Line((2.081641936, 4), (1.43808022, 3.600125745))
                ThreePointArc((1.43808022, 3.600125745), (1.848539735, 1.820821801), (1.986407446, 0))
                ThreePointArc((1.986407446, 0), (1.641665343, -2.866864669), (0.627094961, -5.57027124))
                ThreePointArc((0.627094961, -5.57027124), (1.93527598, -5.894040025), (3.282888305, -5.883801663))
                ThreePointArc((3.282888305, -5.883801663), (3.405395609, -5.596745198), (3.521749436, -5.30713988))
                ThreePointArc((3.521749436, -5.30713988), (2.861028333, -4.588201733), (2.081641936, -4))
                Line((2.081641936, -4), (20.643657446, -4))
            make_face()
        extrude(amount=CUT_EXTRUDE1_DEPTH, mode=Mode.SUBTRACT)

    # Sketch5 → Cut-Extrude2 (cut, up to next)
    with BuildSketch(Plane(origin=(0, 3, 0), x_dir=(1, 0, 0), z_dir=(0, 1, 0)), mode=Mode.PRIVATE) as cut_extrude2_sk1:
        with Locations(Location((-2.861898857, 1.941142838, 0), (0, 0, 270))):
            Circle(SKETCH5_R)
    cut_extrude2_tool1 = extrude(cut_extrude2_sk1.sketch, amount=-CUT_EXTRUDE2_REACH, mode=Mode.PRIVATE) & part.part
    # Sketch5 → Cut-Extrude2 (cut, up to next)
    with BuildSketch(Plane(origin=(0, 3, 0), x_dir=(1, 0, 0), z_dir=(0, 1, 0)), mode=Mode.PRIVATE) as cut_extrude2_sk2:
        with Locations(Location((-17.350786251, -1.941142838, 0), (0, 0, 270))):
            Circle(SKETCH5_R)
    cut_extrude2_tool2 = extrude(cut_extrude2_sk2.sketch, amount=-CUT_EXTRUDE2_REACH, mode=Mode.PRIVATE) & part.part
    # Sketch5 → Cut-Extrude2 (cut, up to next)
    with BuildSketch(Plane(origin=(0, 3, 0), x_dir=(1, 0, 0), z_dir=(0, 1, 0)), mode=Mode.PRIVATE) as cut_extrude2_sk3:
        with Locations(Location((-10.106342554, 0, 0), (0, 0, 270))):
            Circle(SKETCH5_R_2)
    cut_extrude2_tool3 = extrude(cut_extrude2_sk3.sketch, amount=-CUT_EXTRUDE2_REACH, mode=Mode.PRIVATE) & part.part
    add(cut_extrude2_tool1.solids().sort_by_distance((-2.861899, 3, -1.941143))[0], mode=Mode.SUBTRACT)
    add(cut_extrude2_tool2.solids().sort_by_distance((-17.350786, 3, 1.941143))[0], mode=Mode.SUBTRACT)
    add(cut_extrude2_tool3.solids().sort_by_distance((-10.106343, 3, 0))[0], mode=Mode.SUBTRACT)


solid = part.part
